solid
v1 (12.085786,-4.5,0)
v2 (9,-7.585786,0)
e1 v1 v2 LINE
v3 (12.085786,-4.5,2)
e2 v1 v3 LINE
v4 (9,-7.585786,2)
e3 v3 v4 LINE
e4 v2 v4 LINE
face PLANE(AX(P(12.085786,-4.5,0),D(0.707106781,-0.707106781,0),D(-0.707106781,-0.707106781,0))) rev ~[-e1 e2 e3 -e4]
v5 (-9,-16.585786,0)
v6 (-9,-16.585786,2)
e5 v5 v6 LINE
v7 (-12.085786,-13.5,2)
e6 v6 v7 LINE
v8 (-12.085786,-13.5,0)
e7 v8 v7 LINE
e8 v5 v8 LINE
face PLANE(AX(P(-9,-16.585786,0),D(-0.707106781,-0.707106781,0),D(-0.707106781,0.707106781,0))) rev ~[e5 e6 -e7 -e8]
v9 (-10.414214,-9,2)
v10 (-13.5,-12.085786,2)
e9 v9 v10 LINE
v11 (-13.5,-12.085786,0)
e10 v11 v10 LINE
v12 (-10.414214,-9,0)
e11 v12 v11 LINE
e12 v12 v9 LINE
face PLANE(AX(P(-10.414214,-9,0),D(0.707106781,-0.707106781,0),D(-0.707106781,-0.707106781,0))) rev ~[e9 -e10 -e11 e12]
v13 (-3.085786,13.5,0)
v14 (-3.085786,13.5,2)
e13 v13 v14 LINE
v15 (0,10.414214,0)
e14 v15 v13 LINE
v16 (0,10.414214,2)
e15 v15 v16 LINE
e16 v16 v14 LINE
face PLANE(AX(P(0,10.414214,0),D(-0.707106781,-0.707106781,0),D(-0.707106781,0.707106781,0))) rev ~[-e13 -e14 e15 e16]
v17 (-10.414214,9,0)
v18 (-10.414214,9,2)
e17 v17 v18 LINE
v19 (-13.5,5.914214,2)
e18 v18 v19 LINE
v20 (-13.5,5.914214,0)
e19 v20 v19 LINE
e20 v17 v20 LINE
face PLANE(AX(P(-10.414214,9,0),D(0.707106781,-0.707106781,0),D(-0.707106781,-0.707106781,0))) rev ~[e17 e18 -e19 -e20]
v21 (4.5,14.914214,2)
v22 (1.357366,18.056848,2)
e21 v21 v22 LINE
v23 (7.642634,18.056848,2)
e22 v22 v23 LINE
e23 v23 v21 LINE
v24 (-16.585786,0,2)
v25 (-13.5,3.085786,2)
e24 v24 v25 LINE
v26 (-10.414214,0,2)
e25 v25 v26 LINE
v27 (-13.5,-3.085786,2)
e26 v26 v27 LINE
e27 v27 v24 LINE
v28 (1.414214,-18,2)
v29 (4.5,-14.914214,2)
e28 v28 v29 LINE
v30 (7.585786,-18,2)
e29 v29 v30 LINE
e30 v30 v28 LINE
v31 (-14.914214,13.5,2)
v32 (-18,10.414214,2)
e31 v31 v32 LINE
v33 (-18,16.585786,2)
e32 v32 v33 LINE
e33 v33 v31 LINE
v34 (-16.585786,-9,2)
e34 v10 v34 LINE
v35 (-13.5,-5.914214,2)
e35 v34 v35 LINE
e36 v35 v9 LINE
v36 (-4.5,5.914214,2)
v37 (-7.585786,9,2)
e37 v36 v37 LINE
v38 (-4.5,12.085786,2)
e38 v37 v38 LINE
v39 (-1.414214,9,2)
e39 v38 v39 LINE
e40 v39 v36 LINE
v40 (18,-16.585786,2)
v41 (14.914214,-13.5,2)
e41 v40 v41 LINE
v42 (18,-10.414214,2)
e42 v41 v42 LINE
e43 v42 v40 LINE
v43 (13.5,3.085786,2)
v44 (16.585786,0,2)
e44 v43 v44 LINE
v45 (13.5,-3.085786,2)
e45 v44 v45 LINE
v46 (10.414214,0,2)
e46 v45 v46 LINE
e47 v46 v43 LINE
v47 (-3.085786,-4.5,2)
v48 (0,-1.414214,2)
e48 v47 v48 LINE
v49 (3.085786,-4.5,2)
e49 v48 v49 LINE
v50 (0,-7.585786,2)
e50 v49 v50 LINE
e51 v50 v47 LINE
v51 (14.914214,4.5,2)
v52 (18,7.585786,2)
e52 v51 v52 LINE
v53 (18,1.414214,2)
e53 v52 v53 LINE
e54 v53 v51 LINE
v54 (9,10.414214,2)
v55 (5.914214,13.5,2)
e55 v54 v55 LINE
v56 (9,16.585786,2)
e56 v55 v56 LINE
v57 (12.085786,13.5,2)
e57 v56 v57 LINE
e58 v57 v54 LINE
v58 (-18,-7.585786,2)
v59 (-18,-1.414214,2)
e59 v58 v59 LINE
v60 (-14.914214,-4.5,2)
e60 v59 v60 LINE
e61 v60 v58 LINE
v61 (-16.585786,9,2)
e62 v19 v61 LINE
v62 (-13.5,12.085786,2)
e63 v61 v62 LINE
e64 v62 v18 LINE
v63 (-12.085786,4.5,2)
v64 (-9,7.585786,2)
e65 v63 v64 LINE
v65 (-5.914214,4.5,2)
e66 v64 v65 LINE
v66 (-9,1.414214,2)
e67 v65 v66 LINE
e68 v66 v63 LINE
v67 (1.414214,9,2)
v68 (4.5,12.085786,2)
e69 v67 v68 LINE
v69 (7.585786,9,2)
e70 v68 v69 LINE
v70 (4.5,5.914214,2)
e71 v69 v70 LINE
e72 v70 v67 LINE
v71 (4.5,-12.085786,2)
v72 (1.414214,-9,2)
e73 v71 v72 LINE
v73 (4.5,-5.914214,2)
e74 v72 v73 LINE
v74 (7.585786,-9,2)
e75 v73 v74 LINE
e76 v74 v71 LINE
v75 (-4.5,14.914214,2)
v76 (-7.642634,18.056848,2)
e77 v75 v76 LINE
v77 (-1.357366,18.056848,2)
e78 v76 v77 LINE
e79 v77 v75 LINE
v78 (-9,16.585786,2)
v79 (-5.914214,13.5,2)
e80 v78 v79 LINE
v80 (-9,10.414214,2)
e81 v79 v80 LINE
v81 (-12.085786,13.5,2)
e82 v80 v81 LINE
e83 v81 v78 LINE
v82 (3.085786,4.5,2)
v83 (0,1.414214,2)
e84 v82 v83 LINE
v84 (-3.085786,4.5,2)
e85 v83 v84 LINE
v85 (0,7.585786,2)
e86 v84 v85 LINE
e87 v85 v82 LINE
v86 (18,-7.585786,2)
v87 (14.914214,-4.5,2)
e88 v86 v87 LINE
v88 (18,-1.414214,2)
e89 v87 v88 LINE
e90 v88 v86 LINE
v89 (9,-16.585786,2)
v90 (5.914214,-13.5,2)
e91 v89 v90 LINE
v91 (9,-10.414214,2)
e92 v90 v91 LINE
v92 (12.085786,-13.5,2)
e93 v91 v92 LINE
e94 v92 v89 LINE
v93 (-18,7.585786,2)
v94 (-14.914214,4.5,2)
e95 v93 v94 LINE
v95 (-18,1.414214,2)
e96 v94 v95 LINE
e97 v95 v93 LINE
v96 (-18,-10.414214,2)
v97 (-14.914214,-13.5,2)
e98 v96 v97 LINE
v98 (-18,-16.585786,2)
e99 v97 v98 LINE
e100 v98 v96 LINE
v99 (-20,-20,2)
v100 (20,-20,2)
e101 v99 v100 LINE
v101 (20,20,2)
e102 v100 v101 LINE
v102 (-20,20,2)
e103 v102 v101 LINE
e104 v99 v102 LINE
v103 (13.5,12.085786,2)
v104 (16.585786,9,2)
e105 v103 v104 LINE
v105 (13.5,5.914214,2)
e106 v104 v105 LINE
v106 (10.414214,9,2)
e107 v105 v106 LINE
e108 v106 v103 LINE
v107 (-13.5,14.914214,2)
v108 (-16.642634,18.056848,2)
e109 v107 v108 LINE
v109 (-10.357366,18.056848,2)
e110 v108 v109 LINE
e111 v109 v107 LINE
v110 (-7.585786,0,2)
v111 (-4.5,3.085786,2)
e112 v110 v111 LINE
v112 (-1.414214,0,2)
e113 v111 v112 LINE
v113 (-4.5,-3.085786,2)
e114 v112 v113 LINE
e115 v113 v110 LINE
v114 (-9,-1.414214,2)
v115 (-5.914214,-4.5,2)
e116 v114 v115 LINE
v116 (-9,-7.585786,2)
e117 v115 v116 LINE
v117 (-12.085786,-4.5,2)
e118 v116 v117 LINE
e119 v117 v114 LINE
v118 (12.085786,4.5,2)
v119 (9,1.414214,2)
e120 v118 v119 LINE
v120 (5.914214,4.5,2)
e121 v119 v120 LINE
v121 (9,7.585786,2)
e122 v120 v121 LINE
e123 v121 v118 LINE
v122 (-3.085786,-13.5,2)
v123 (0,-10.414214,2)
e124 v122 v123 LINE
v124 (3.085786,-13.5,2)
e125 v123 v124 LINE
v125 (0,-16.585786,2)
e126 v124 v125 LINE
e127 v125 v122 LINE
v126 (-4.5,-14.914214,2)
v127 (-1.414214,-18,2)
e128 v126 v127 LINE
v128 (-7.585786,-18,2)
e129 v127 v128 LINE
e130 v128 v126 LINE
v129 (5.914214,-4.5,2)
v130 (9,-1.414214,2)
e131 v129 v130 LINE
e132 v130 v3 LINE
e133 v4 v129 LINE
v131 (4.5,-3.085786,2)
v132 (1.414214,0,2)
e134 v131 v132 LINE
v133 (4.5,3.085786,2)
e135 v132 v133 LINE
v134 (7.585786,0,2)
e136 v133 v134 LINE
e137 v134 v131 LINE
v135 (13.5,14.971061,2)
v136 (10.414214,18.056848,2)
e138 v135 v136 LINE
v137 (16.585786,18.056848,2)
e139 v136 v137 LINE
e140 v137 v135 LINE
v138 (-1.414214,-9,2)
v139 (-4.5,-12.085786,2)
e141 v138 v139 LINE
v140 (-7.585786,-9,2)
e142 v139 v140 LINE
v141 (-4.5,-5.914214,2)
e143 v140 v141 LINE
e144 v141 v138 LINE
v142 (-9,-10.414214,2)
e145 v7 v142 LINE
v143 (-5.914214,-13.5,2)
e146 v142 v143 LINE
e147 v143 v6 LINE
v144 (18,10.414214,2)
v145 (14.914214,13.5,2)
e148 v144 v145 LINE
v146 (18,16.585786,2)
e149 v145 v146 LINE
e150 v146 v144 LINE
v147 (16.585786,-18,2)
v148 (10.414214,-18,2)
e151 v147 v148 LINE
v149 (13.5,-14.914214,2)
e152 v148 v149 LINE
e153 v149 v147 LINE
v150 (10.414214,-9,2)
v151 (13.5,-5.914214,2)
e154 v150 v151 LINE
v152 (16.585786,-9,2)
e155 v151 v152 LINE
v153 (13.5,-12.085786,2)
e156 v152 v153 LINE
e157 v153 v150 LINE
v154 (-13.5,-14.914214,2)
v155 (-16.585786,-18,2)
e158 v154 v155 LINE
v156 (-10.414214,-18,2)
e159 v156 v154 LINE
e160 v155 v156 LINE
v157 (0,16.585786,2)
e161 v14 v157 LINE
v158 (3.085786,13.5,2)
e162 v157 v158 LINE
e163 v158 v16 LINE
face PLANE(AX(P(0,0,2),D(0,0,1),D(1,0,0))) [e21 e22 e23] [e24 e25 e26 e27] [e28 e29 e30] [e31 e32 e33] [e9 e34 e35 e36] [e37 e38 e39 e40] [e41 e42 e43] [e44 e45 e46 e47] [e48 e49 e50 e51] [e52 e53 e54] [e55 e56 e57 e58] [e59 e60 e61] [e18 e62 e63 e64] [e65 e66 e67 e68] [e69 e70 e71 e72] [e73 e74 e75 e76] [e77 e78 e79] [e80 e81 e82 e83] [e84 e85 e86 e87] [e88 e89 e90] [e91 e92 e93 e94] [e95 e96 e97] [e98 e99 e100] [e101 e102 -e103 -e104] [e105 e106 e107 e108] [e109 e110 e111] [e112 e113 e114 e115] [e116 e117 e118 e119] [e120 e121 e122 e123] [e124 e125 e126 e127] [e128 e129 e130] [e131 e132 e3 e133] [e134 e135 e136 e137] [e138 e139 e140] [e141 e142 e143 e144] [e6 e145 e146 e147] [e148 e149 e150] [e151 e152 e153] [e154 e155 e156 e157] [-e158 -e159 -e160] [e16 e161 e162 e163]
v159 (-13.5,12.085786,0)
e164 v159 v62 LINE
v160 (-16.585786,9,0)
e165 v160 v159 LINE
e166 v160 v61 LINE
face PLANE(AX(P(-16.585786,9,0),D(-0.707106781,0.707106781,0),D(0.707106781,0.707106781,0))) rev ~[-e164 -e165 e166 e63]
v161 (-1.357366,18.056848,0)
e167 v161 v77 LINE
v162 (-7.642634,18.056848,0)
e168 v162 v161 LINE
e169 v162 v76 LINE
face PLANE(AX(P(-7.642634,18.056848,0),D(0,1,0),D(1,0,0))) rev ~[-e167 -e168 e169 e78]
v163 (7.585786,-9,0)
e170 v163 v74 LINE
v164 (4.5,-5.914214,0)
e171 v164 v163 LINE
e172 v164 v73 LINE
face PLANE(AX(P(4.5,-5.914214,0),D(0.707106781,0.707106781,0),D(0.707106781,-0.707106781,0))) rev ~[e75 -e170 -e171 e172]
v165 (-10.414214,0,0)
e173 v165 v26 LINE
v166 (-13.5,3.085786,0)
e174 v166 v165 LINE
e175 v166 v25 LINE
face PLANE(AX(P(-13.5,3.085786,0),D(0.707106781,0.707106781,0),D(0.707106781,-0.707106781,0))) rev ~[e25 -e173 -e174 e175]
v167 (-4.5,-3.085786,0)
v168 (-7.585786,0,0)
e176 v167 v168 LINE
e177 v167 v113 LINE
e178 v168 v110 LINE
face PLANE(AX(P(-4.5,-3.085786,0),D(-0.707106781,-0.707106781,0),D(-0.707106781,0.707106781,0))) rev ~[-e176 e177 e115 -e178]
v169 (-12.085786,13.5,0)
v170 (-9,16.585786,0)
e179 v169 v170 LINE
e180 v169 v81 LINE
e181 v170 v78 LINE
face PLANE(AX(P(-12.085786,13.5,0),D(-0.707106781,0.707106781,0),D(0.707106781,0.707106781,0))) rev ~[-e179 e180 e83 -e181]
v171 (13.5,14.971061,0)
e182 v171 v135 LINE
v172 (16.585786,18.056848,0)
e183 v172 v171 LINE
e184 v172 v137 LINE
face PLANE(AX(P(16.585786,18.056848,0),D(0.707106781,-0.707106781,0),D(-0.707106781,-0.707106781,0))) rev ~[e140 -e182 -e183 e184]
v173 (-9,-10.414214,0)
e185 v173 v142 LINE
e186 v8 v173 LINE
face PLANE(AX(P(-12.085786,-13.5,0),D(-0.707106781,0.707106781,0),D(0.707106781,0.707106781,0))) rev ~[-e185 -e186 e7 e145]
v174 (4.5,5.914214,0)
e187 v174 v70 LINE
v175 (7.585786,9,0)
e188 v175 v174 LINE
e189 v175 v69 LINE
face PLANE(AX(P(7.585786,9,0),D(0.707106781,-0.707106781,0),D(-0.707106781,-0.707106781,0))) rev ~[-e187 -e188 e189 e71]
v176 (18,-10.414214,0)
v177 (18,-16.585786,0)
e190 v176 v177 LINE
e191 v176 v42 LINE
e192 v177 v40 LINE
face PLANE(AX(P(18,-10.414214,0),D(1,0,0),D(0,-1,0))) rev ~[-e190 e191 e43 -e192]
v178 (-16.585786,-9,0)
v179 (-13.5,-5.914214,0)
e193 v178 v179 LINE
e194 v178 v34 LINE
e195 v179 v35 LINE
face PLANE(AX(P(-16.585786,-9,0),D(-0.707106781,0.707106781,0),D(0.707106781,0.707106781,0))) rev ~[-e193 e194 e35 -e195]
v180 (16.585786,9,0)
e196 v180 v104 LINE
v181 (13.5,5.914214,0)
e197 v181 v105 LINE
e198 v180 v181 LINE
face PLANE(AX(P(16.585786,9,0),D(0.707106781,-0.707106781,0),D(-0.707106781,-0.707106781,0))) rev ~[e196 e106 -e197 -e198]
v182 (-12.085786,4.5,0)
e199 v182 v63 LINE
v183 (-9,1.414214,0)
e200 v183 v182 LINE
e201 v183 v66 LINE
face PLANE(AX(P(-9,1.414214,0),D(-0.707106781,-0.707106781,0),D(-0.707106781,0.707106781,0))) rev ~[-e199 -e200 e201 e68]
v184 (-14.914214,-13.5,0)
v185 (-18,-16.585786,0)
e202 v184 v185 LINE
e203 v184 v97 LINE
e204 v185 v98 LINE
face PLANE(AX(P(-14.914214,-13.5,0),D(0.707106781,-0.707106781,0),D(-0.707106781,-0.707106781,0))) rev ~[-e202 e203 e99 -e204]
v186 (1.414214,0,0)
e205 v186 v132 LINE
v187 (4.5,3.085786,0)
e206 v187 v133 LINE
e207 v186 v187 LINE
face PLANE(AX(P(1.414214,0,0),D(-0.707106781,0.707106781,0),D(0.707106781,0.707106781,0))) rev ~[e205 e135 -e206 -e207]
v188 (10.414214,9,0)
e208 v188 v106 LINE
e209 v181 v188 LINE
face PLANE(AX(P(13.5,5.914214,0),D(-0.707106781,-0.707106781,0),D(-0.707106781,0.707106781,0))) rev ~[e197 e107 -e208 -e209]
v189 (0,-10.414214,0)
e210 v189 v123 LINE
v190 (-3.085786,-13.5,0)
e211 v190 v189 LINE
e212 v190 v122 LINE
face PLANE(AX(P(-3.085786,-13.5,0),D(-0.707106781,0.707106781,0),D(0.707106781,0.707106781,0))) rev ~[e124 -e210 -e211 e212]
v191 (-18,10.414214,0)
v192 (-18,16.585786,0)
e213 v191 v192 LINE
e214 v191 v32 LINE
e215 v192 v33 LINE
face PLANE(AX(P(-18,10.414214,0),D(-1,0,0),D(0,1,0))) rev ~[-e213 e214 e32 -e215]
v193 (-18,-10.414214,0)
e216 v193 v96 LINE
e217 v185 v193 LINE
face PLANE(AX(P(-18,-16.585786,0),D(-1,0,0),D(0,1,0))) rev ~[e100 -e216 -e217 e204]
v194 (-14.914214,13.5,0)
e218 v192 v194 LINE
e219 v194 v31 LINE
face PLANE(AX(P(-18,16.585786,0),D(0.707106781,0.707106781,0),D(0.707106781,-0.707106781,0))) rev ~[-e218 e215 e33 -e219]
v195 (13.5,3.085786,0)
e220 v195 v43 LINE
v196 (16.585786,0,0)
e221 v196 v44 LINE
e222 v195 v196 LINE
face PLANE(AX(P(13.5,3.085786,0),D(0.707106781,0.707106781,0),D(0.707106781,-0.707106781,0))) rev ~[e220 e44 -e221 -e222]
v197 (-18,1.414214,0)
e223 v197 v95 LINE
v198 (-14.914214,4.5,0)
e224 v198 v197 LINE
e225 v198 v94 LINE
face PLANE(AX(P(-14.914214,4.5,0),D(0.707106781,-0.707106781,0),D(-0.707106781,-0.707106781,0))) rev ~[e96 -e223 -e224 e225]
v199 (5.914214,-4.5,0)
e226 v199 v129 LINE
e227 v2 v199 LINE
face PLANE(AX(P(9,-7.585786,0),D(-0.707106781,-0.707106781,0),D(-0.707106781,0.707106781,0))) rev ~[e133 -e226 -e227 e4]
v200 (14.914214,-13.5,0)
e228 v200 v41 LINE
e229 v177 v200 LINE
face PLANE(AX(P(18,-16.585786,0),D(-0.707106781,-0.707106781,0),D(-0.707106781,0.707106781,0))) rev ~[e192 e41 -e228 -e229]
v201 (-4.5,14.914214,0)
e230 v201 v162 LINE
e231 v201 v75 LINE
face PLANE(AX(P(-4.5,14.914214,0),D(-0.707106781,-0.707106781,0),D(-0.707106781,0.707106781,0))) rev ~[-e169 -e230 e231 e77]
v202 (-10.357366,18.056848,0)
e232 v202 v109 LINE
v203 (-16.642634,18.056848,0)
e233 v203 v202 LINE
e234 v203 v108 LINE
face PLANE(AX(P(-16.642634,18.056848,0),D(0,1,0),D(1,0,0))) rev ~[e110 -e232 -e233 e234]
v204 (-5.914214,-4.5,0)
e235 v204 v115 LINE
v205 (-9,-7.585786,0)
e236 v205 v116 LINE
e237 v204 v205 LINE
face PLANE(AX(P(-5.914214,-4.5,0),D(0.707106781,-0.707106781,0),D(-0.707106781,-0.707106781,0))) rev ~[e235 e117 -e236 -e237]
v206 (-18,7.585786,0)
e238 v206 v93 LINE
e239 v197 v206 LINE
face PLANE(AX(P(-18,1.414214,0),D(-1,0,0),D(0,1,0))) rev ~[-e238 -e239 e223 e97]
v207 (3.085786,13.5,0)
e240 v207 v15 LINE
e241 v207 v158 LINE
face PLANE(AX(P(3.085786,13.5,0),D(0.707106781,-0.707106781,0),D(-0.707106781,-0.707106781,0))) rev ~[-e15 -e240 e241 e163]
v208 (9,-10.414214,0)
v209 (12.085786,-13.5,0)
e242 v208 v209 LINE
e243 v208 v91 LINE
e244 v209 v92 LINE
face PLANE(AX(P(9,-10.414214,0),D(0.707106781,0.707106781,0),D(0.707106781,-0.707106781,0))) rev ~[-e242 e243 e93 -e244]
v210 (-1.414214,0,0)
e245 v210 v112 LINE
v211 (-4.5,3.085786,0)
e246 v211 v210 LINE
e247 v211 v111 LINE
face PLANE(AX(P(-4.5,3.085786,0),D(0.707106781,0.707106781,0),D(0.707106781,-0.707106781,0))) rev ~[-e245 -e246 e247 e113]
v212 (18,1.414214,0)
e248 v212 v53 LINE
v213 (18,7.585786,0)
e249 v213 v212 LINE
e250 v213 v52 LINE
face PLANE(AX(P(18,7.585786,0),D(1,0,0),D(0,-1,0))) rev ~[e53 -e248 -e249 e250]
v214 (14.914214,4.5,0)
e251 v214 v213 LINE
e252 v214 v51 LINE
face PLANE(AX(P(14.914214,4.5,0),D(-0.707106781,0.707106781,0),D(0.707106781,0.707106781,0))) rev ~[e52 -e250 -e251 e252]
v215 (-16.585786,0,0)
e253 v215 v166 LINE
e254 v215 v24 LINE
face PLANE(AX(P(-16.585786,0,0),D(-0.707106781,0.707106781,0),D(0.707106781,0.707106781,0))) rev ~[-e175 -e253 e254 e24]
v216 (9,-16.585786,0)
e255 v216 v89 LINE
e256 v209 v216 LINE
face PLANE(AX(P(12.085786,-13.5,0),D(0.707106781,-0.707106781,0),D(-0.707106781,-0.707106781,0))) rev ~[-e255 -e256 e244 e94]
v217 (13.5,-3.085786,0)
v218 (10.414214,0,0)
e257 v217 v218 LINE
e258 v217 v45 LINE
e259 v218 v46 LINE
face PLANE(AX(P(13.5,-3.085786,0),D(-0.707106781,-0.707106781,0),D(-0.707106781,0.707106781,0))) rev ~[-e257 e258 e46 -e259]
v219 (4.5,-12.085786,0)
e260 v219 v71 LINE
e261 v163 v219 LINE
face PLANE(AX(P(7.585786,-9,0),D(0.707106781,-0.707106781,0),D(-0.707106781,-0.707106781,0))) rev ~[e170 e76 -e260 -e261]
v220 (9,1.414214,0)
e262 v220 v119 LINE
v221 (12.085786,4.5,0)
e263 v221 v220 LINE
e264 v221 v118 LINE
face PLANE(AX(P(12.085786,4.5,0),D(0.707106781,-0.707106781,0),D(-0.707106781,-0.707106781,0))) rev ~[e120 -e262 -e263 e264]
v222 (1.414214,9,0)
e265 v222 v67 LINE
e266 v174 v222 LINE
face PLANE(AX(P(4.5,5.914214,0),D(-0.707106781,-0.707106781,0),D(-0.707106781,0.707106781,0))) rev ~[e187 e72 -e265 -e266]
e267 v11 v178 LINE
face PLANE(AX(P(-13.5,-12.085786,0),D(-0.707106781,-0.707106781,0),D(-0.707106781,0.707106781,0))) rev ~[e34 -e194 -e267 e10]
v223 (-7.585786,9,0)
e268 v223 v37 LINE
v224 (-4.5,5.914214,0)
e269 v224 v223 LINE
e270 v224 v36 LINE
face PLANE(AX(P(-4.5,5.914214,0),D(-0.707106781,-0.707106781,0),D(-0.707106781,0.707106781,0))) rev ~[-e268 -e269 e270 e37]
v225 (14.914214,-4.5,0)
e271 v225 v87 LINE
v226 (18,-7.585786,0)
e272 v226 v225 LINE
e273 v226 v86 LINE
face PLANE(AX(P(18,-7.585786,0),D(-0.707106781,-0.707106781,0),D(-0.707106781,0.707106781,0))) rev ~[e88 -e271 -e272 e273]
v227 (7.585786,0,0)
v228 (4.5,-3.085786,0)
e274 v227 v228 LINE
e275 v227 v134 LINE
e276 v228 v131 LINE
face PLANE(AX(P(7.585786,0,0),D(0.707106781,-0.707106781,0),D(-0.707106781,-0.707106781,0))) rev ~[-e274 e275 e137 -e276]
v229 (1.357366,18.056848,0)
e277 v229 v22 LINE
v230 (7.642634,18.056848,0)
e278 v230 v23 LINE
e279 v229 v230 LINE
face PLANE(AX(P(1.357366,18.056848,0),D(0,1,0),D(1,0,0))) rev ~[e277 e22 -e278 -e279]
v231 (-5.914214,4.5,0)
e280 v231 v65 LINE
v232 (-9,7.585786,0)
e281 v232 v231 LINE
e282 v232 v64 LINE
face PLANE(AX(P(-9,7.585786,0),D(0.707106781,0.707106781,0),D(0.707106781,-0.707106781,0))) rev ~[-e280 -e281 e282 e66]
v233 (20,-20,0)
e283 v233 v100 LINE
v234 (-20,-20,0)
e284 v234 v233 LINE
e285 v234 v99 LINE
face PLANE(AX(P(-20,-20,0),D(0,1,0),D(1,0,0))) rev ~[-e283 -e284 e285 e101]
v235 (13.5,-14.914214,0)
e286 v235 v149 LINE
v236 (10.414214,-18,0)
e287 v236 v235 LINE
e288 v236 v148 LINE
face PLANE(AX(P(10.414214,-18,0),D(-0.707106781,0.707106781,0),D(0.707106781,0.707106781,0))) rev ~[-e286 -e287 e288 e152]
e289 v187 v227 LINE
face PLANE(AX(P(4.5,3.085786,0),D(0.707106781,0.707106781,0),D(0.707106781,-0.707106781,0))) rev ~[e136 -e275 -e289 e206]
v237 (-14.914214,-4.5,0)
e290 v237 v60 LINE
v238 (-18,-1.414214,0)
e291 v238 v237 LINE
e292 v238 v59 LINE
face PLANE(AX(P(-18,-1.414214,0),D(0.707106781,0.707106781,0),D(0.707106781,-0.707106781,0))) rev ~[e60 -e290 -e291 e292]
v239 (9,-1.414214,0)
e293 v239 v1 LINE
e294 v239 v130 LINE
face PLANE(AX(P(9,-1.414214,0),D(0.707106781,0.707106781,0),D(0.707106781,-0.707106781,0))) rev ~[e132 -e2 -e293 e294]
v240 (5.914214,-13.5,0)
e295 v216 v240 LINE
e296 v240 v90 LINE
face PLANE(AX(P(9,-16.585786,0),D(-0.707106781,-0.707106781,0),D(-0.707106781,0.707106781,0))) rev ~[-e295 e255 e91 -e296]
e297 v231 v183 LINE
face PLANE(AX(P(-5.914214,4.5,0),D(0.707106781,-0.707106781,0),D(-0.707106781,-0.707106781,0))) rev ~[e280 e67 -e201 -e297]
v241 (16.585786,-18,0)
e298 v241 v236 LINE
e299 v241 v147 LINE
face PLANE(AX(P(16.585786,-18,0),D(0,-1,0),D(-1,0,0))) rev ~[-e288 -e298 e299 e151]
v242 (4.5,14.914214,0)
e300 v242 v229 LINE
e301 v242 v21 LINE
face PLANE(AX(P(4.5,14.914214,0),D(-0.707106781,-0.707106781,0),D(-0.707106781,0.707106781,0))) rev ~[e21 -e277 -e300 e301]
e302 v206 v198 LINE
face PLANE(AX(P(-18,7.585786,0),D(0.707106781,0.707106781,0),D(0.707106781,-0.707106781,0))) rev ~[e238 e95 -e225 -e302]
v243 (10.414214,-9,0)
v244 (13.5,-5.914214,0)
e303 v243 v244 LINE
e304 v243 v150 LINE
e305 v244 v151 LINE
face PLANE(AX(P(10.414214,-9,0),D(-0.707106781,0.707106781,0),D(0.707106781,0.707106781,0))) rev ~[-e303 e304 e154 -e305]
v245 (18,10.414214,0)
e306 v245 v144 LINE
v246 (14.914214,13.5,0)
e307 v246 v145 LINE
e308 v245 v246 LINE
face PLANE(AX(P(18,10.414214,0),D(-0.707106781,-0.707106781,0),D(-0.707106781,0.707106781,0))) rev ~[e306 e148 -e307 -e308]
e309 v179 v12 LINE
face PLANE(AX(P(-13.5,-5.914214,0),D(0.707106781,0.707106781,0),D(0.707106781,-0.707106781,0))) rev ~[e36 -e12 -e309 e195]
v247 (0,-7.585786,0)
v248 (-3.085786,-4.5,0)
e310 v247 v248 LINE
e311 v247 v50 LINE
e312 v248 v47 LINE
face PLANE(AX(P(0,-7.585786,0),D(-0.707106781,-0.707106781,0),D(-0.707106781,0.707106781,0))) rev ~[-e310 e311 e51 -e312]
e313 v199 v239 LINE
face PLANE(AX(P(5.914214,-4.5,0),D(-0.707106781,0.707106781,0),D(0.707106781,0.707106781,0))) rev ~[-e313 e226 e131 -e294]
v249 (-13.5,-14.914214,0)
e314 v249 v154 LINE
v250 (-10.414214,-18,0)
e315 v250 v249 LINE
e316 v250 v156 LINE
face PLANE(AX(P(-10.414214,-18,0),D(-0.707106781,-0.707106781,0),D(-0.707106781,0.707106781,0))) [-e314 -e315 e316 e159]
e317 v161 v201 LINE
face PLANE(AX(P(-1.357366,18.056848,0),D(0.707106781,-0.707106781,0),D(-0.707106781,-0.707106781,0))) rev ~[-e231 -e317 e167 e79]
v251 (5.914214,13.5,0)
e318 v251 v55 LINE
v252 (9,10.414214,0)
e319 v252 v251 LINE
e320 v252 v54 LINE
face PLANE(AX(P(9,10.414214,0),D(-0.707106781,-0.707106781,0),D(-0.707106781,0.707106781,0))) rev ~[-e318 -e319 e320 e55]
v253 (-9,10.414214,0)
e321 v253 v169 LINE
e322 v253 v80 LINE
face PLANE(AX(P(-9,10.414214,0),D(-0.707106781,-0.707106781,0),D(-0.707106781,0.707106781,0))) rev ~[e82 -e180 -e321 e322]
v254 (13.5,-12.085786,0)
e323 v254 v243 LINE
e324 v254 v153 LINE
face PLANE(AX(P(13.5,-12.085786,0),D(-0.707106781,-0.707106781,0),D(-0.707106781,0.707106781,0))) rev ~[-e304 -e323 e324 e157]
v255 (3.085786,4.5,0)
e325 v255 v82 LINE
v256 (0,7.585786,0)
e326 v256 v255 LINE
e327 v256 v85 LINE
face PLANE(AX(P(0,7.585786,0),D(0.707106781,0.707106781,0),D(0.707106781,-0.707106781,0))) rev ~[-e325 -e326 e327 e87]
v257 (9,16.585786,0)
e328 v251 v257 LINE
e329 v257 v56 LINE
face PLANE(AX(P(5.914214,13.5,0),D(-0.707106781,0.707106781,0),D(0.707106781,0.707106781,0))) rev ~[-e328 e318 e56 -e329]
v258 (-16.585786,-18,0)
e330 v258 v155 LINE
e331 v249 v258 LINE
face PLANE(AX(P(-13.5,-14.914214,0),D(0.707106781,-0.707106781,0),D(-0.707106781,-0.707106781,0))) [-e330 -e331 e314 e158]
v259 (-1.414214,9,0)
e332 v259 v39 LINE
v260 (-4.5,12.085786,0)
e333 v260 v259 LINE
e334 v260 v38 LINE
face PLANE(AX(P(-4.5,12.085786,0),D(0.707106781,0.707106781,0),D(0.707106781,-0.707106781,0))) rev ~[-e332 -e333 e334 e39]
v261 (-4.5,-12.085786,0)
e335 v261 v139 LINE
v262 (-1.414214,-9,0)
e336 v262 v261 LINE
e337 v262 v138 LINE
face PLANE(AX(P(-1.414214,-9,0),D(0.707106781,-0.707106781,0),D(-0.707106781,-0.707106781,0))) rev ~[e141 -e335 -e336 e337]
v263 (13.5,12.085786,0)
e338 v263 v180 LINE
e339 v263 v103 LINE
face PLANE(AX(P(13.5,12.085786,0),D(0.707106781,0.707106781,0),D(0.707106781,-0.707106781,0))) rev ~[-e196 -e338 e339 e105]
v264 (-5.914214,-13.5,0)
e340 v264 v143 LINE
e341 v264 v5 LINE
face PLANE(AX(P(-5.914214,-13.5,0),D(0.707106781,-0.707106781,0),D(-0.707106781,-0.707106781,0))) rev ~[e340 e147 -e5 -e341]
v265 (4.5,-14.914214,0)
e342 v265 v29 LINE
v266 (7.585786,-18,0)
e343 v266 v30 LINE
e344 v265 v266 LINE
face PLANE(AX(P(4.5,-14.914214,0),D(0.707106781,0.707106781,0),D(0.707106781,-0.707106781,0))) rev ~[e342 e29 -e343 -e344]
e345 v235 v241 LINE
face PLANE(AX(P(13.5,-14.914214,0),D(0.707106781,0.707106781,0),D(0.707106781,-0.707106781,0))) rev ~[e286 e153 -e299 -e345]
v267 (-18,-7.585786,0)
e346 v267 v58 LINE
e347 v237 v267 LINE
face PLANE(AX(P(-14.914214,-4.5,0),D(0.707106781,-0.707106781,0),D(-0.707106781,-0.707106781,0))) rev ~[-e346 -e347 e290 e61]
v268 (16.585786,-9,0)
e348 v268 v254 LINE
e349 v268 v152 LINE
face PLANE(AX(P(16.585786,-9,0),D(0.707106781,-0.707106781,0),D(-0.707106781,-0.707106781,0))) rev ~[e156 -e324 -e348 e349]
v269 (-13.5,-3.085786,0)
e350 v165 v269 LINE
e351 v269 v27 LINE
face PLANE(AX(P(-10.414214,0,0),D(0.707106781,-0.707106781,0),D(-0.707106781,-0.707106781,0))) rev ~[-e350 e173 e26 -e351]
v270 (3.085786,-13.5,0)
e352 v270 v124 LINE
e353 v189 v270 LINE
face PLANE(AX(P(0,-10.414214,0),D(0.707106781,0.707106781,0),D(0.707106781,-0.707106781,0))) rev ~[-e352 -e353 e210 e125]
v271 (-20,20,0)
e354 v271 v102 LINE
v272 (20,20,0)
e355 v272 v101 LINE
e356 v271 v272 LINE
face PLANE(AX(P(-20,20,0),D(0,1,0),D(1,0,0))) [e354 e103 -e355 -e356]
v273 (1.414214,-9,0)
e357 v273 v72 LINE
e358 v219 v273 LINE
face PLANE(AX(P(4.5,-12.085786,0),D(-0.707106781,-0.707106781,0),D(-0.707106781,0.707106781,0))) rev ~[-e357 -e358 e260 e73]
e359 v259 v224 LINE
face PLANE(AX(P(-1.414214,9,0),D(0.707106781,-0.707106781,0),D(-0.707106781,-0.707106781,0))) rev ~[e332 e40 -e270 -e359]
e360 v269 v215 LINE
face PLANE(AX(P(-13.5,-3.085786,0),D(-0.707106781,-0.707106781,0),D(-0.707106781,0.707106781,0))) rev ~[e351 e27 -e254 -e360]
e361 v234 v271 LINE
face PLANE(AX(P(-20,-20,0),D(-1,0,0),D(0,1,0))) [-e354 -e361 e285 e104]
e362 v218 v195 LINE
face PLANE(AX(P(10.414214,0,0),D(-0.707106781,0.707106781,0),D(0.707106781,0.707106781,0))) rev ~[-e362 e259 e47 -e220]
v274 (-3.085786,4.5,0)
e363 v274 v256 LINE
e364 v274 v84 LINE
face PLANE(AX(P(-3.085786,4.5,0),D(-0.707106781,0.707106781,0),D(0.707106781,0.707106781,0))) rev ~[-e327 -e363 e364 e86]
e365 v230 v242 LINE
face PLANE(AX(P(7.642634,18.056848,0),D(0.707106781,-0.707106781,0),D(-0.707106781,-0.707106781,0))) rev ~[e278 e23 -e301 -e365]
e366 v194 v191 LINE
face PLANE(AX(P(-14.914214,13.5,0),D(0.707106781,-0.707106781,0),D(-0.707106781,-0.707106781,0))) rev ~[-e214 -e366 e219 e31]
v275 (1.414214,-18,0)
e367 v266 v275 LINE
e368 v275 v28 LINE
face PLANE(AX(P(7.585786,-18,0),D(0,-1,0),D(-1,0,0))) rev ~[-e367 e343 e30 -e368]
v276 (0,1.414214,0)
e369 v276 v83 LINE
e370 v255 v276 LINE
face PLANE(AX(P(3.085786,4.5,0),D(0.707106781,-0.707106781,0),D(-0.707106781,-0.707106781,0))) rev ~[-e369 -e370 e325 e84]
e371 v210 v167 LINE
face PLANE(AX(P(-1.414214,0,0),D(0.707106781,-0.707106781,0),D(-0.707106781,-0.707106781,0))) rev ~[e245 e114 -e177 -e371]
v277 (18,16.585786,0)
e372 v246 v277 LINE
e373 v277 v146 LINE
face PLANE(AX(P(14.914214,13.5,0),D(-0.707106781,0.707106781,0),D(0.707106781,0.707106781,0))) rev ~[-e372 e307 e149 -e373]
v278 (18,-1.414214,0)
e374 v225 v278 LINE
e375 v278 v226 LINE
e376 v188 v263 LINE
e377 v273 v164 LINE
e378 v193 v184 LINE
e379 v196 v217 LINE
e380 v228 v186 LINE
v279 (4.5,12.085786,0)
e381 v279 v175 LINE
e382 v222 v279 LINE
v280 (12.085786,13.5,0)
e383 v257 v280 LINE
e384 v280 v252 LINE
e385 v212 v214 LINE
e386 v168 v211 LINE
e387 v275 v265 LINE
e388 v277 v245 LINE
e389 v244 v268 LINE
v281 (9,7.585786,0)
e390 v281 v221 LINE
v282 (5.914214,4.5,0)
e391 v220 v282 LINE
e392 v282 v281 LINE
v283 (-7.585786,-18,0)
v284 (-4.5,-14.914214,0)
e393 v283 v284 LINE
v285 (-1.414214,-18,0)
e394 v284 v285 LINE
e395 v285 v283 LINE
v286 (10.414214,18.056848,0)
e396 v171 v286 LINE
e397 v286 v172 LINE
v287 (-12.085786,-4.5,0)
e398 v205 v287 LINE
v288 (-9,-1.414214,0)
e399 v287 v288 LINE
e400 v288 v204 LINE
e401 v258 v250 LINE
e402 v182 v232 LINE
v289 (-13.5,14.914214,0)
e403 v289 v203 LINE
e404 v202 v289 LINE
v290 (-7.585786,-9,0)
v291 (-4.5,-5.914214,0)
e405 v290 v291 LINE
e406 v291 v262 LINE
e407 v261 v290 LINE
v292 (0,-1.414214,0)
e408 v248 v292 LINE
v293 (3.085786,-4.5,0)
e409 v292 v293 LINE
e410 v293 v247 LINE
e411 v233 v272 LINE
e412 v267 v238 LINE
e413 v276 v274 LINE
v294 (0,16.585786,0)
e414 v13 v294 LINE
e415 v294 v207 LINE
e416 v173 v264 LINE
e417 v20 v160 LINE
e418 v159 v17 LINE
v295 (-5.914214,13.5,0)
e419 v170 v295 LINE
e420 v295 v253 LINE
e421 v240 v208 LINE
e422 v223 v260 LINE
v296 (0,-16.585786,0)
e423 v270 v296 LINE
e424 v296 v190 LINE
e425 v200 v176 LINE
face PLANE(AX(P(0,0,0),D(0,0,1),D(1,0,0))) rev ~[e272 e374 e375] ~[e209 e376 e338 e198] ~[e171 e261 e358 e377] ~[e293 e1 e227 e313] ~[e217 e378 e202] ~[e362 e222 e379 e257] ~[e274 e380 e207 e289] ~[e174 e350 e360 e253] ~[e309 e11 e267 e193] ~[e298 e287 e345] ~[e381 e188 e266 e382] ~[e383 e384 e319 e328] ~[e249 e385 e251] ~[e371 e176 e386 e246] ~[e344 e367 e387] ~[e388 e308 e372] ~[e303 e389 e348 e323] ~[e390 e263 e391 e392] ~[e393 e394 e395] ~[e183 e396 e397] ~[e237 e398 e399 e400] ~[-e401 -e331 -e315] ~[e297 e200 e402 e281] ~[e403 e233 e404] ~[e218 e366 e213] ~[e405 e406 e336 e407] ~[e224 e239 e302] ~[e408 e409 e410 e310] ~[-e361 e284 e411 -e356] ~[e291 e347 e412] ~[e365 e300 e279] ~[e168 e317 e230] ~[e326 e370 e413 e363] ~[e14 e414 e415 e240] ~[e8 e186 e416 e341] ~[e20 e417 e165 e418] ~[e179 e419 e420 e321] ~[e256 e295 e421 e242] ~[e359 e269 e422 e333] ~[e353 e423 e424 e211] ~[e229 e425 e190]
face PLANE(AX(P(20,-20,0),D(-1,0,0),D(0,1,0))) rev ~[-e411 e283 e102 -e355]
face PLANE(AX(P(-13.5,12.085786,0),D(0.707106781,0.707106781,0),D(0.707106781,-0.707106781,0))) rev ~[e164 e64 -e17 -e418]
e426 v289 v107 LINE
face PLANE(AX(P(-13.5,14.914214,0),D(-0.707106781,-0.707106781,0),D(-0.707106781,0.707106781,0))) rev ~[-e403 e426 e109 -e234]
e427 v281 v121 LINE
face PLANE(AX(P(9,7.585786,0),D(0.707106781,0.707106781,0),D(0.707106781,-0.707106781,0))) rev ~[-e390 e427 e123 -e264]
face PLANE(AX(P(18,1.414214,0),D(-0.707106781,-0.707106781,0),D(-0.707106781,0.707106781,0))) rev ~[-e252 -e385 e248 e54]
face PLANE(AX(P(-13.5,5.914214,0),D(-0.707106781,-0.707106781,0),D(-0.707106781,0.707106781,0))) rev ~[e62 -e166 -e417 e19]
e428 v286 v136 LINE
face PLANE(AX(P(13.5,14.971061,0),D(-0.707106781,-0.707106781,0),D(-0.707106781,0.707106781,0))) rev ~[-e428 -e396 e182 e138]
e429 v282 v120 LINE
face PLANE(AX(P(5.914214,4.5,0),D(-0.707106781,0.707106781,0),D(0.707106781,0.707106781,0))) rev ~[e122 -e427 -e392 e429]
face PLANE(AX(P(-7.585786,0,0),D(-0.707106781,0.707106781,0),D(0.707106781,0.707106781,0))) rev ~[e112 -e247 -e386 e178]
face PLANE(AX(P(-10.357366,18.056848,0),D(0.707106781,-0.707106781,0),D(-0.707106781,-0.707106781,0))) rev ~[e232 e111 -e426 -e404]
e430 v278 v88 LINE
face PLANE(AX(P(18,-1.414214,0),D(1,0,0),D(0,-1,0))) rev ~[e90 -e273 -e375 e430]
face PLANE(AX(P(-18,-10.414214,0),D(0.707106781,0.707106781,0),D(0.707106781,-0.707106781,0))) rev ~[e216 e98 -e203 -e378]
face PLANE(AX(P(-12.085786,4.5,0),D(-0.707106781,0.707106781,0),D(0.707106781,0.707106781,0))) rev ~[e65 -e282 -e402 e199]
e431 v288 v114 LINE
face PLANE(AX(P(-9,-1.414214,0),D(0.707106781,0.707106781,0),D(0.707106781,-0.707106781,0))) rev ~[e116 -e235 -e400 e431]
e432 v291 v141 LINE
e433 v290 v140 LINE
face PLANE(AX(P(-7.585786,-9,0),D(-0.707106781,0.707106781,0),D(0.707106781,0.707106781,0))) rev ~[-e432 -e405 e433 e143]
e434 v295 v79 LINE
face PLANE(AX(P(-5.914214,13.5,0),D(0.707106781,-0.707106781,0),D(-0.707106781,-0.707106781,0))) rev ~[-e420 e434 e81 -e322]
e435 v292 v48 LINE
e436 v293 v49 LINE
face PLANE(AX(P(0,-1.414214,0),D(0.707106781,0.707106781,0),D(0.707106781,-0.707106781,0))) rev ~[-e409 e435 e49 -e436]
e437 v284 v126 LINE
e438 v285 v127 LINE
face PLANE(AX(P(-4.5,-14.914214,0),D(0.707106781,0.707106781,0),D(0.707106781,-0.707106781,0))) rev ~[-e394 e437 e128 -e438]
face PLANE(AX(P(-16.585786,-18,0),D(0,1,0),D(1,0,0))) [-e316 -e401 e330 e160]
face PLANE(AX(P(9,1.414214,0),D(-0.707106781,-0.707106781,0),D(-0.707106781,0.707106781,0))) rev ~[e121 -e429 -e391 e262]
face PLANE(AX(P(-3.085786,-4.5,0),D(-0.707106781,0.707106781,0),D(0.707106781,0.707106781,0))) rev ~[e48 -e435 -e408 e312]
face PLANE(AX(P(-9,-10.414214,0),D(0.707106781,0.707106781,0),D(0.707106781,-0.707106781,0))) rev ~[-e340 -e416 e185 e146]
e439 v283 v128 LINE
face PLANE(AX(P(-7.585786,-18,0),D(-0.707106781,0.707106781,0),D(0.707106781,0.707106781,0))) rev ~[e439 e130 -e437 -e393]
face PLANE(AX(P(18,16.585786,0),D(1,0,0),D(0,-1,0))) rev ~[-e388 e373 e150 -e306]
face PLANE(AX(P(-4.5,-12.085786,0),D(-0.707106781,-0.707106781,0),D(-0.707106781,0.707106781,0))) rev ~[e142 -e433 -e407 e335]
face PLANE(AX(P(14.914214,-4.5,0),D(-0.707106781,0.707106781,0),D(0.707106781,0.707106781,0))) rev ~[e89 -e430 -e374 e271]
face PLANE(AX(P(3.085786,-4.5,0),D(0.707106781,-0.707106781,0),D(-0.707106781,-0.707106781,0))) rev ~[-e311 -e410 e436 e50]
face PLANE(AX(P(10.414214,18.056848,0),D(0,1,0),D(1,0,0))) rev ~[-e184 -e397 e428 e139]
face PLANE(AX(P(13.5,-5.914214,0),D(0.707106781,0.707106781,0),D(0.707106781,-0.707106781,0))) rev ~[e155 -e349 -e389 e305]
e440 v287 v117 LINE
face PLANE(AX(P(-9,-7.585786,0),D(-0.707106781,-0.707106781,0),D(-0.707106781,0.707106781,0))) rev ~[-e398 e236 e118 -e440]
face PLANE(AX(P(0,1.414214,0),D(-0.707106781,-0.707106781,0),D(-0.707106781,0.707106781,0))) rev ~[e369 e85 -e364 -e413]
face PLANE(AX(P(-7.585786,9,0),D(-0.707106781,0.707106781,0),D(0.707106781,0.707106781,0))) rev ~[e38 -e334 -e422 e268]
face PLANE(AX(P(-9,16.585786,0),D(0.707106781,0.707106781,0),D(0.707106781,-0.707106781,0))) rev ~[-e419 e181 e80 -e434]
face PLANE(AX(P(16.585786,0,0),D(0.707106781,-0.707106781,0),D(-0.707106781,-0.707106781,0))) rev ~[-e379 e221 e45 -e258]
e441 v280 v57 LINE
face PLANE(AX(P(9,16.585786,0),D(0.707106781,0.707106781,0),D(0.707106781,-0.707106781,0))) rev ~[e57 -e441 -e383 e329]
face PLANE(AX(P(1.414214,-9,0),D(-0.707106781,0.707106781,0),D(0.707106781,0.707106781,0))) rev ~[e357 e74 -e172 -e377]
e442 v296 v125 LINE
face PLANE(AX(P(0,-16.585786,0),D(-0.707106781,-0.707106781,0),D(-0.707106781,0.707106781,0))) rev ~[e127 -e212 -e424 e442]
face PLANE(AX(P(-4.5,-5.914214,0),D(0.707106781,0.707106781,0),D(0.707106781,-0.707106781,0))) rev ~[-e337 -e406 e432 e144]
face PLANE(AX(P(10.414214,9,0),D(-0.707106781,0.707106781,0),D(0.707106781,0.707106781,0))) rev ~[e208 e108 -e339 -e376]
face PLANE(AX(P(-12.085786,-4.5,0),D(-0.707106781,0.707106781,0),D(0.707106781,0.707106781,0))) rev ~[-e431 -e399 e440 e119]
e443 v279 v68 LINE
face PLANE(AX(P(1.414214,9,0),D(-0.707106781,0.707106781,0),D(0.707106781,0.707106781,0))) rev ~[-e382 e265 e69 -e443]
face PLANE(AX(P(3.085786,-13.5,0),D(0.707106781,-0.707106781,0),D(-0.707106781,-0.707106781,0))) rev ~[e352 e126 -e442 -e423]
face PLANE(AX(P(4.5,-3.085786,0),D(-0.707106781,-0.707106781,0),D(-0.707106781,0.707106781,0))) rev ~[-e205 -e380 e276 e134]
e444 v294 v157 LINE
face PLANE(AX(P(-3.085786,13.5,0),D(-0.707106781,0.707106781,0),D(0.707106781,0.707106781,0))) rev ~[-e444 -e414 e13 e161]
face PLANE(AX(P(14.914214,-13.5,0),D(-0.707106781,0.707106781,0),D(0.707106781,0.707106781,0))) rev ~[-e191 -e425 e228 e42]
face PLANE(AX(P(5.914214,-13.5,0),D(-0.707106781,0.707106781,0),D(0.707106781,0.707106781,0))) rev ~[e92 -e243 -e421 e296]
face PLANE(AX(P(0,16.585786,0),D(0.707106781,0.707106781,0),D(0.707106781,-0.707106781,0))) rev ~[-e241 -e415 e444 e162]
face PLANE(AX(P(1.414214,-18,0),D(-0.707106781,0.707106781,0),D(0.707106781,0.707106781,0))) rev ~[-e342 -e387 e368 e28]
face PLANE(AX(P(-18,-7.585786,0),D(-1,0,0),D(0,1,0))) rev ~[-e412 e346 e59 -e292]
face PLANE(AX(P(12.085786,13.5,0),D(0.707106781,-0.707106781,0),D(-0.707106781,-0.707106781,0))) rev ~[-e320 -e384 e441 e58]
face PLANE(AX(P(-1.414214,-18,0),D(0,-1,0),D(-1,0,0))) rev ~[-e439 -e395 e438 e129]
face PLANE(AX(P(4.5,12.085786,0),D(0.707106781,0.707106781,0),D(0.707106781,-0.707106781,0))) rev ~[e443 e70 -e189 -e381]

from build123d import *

# Parameters (mm, degrees)
SKETCH5_W           = 40
SKETCH5_H           = 40
BOSS_EXTRUDE2_DEPTH = 2
CUT_EXTRUDE1_DEPTH  = 2
CUT_EXTRUDE4_DEPTH  = 2
CUT_EXTRUDE5_DEPTH  = 2
CUT_EXTRUDE6_DEPTH  = 2
CUT_EXTRUDE7_DEPTH  = 2
CUT_EXTRUDE8_DEPTH  = 2


with BuildPart() as part:
    # Sketch5 → Boss-Extrude2 (new body)
    with BuildSketch(Plane.XY):
        Rectangle(SKETCH5_W, SKETCH5_H)
    extrude(amount=BOSS_EXTRUDE2_DEPTH)

    # Sketch4 → Cut-Extrude1 (cut)
    with BuildSketch(Plane.XY):
        Polygon((16.585786438, 18.056847711), (10.414213562, 18.056847711), (13.5, 14.971061274), align=None)
        Polygon((18, 10.414213562), (18, 16.585786438), (14.914213562, 13.5), align=None)
    extrude(amount=CUT_EXTRUDE1_DEPTH, mode=Mode.SUBTRACT)

    # Sketch4<5> → Cut-Extrude4 (cut)
    with BuildSketch(Plane.XY):
        Polygon((-13.5, -14.914213562), (-16.585786438, -18), (-10.414213562, -18), align=None)
        Polygon((-13.5, -12.085786438), (-10.414213562, -9), (-13.5, -5.914213562), (-16.585786438, -9), align=None)
        Polygon((-5.914213562, -13.5), (-9, -10.414213562), (-12.085786438, -13.5), (-9, -16.585786438), align=None)
        Polygon((-18, -16.585786438), (-14.914213562, -13.5), (-18, -10.414213562), align=None)
    extrude(amount=CUT_EXTRUDE4_DEPTH, mode=Mode.SUBTRACT)

    # Sketch4<6> → Cut-Extrude5 (cut)
    with BuildSketch(Plane.XY):
        Polygon((13.5, -14.914213562), (10.414213562, -18), (16.585786438, -18), align=None)
        Polygon((3.085786438, -13.5), (0, -10.414213562), (-3.085786438, -13.5), (0, -16.585786438), align=None)
        Polygon((-1.414213562, -18), (-4.5, -14.914213562), (-7.585786438, -18), align=None)
        Polygon((4.5, -5.914213562), (1.414213562, -9), (4.5, -12.085786438), (7.585786438, -9), align=None)
        Polygon((12.085786438, -13.5), (9, -10.414213562), (5.914213562, -13.5), (9, -16.585786438), align=None)
        Polygon((7.585786438, -18), (4.5, -14.914213562), (1.414213562, -18), align=None)
        Polygon((13.5, -5.914213562), (10.414213562, -9), (13.5, -12.085786438), (16.585786438, -9), align=None)
        Polygon((18, -16.585786438), (18, -10.414213562), (14.914213562, -13.5), align=None)
        Polygon((12.085786438, -4.5), (9, -1.414213562), (5.914213562, -4.5), (9, -7.585786438), align=None)
        Polygon((18, -7.585786438), (18, -1.414213562), (14.914213562, -4.5), align=None)
    extrude(amount=CUT_EXTRUDE5_DEPTH, mode=Mode.SUBTRACT)

    # Sketch4<7> → Cut-Extrude6 (cut)
    with BuildSketch(Plane.XY):
        Polygon((-4.5, -5.914213562), (-7.585786438, -9), (-4.5, -12.085786438), (-1.414213562, -9), align=None)
        Polygon((3.085786438, -4.5), (0, -1.414213562), (-3.085786438, -4.5), (0, -7.585786438), align=None)
        Polygon((4.5, 3.085786438), (1.414213562, 0), (4.5, -3.085786438), (7.585786438, 0), align=None)
        Polygon((13.5, 3.085786438), (10.414213562, 0), (13.5, -3.085786438), (16.585786438, 0), align=None)
        Polygon((3.085786438, 4.5), (0, 7.585786438), (-3.085786438, 4.5), (0, 1.414213562), align=None)
        Polygon((4.5, 12.085786438), (1.414213562, 9), (4.5, 5.914213562), (7.585786438, 9), align=None)
        Polygon((12.085786438, 4.5), (9, 7.585786438), (5.914213562, 4.5), (9, 1.414213562), align=None)
        Polygon((13.5, 12.085786438), (10.414213562, 9), (13.5, 5.914213562), (16.585786438, 9), align=None)
        Polygon((18, 1.414213562), (18, 7.585786438), (14.914213562, 4.5), align=None)
        Polygon((3.085786438, 13.5), (0, 16.585786438), (-3.085786438, 13.5), (0, 10.414213562), align=None)
        Polygon((7.642634149, 18.056847711), (1.357365851, 18.056847711), (4.5, 14.914213562), align=None)
        Polygon((12.085786438, 13.5), (9, 16.585786438), (5.914213562, 13.5), (9, 10.414213562), align=None)
    extrude(amount=CUT_EXTRUDE6_DEPTH, mode=Mode.SUBTRACT)

    # Sketch4<9> → Cut-Extrude7 (cut)
    with BuildSketch(Plane.XY):
        Polygon((-9, -7.585786438), (-5.914213562, -4.5), (-9, -1.414213562), (-12.085786438, -4.5), align=None)
        Polygon((-4.5, 3.085786438), (-7.585786438, 0), (-4.5, -3.085786438), (-1.414213562, 0), align=None)
        Polygon((-9, 1.414213562), (-5.914213562, 4.5), (-9, 7.585786438), (-12.085786438, 4.5), align=None)
        Polygon((-18, -7.585786438), (-14.914213562, -4.5), (-18, -1.414213562), align=None)
        Polygon((-13.5, 3.085786438), (-16.585786438, 0), (-13.5, -3.085786438), (-10.414213562, 0), align=None)
        Polygon((-18, 1.414213562), (-14.914213562, 4.5), (-18, 7.585786438), align=None)
    extrude(amount=CUT_EXTRUDE7_DEPTH, mode=Mode.SUBTRACT)

    # Sketch4<10> → Cut-Extrude8 (cut)
    with BuildSketch(Plane.XY):
        Polygon((-10.357365851, 18.056847711), (-16.642634149, 18.056847711), (-13.5, 14.914213562), align=None)
        Polygon((-14.914213562, 13.5), (-18, 16.585786438), (-18, 10.414213562), align=None)
        Polygon((-4.5, 12.085786438), (-7.585786438, 9), (-4.5, 5.914213562), (-1.414213562, 9), align=None)
        Polygon((-9, 10.414213562), (-5.914213562, 13.5), (-9, 16.585786438), (-12.085786438, 13.5), align=None)
        Polygon((-1.357365851, 18.056847711), (-7.642634149, 18.056847711), (-4.5, 14.914213562), align=None)
        Polygon((-13.5, 12.085786438), (-16.585786438, 9), (-13.5, 5.914213562), (-10.414213562, 9), align=None)
    extrude(amount=CUT_EXTRUDE8_DEPTH, mode=Mode.SUBTRACT)


solid = part.part
